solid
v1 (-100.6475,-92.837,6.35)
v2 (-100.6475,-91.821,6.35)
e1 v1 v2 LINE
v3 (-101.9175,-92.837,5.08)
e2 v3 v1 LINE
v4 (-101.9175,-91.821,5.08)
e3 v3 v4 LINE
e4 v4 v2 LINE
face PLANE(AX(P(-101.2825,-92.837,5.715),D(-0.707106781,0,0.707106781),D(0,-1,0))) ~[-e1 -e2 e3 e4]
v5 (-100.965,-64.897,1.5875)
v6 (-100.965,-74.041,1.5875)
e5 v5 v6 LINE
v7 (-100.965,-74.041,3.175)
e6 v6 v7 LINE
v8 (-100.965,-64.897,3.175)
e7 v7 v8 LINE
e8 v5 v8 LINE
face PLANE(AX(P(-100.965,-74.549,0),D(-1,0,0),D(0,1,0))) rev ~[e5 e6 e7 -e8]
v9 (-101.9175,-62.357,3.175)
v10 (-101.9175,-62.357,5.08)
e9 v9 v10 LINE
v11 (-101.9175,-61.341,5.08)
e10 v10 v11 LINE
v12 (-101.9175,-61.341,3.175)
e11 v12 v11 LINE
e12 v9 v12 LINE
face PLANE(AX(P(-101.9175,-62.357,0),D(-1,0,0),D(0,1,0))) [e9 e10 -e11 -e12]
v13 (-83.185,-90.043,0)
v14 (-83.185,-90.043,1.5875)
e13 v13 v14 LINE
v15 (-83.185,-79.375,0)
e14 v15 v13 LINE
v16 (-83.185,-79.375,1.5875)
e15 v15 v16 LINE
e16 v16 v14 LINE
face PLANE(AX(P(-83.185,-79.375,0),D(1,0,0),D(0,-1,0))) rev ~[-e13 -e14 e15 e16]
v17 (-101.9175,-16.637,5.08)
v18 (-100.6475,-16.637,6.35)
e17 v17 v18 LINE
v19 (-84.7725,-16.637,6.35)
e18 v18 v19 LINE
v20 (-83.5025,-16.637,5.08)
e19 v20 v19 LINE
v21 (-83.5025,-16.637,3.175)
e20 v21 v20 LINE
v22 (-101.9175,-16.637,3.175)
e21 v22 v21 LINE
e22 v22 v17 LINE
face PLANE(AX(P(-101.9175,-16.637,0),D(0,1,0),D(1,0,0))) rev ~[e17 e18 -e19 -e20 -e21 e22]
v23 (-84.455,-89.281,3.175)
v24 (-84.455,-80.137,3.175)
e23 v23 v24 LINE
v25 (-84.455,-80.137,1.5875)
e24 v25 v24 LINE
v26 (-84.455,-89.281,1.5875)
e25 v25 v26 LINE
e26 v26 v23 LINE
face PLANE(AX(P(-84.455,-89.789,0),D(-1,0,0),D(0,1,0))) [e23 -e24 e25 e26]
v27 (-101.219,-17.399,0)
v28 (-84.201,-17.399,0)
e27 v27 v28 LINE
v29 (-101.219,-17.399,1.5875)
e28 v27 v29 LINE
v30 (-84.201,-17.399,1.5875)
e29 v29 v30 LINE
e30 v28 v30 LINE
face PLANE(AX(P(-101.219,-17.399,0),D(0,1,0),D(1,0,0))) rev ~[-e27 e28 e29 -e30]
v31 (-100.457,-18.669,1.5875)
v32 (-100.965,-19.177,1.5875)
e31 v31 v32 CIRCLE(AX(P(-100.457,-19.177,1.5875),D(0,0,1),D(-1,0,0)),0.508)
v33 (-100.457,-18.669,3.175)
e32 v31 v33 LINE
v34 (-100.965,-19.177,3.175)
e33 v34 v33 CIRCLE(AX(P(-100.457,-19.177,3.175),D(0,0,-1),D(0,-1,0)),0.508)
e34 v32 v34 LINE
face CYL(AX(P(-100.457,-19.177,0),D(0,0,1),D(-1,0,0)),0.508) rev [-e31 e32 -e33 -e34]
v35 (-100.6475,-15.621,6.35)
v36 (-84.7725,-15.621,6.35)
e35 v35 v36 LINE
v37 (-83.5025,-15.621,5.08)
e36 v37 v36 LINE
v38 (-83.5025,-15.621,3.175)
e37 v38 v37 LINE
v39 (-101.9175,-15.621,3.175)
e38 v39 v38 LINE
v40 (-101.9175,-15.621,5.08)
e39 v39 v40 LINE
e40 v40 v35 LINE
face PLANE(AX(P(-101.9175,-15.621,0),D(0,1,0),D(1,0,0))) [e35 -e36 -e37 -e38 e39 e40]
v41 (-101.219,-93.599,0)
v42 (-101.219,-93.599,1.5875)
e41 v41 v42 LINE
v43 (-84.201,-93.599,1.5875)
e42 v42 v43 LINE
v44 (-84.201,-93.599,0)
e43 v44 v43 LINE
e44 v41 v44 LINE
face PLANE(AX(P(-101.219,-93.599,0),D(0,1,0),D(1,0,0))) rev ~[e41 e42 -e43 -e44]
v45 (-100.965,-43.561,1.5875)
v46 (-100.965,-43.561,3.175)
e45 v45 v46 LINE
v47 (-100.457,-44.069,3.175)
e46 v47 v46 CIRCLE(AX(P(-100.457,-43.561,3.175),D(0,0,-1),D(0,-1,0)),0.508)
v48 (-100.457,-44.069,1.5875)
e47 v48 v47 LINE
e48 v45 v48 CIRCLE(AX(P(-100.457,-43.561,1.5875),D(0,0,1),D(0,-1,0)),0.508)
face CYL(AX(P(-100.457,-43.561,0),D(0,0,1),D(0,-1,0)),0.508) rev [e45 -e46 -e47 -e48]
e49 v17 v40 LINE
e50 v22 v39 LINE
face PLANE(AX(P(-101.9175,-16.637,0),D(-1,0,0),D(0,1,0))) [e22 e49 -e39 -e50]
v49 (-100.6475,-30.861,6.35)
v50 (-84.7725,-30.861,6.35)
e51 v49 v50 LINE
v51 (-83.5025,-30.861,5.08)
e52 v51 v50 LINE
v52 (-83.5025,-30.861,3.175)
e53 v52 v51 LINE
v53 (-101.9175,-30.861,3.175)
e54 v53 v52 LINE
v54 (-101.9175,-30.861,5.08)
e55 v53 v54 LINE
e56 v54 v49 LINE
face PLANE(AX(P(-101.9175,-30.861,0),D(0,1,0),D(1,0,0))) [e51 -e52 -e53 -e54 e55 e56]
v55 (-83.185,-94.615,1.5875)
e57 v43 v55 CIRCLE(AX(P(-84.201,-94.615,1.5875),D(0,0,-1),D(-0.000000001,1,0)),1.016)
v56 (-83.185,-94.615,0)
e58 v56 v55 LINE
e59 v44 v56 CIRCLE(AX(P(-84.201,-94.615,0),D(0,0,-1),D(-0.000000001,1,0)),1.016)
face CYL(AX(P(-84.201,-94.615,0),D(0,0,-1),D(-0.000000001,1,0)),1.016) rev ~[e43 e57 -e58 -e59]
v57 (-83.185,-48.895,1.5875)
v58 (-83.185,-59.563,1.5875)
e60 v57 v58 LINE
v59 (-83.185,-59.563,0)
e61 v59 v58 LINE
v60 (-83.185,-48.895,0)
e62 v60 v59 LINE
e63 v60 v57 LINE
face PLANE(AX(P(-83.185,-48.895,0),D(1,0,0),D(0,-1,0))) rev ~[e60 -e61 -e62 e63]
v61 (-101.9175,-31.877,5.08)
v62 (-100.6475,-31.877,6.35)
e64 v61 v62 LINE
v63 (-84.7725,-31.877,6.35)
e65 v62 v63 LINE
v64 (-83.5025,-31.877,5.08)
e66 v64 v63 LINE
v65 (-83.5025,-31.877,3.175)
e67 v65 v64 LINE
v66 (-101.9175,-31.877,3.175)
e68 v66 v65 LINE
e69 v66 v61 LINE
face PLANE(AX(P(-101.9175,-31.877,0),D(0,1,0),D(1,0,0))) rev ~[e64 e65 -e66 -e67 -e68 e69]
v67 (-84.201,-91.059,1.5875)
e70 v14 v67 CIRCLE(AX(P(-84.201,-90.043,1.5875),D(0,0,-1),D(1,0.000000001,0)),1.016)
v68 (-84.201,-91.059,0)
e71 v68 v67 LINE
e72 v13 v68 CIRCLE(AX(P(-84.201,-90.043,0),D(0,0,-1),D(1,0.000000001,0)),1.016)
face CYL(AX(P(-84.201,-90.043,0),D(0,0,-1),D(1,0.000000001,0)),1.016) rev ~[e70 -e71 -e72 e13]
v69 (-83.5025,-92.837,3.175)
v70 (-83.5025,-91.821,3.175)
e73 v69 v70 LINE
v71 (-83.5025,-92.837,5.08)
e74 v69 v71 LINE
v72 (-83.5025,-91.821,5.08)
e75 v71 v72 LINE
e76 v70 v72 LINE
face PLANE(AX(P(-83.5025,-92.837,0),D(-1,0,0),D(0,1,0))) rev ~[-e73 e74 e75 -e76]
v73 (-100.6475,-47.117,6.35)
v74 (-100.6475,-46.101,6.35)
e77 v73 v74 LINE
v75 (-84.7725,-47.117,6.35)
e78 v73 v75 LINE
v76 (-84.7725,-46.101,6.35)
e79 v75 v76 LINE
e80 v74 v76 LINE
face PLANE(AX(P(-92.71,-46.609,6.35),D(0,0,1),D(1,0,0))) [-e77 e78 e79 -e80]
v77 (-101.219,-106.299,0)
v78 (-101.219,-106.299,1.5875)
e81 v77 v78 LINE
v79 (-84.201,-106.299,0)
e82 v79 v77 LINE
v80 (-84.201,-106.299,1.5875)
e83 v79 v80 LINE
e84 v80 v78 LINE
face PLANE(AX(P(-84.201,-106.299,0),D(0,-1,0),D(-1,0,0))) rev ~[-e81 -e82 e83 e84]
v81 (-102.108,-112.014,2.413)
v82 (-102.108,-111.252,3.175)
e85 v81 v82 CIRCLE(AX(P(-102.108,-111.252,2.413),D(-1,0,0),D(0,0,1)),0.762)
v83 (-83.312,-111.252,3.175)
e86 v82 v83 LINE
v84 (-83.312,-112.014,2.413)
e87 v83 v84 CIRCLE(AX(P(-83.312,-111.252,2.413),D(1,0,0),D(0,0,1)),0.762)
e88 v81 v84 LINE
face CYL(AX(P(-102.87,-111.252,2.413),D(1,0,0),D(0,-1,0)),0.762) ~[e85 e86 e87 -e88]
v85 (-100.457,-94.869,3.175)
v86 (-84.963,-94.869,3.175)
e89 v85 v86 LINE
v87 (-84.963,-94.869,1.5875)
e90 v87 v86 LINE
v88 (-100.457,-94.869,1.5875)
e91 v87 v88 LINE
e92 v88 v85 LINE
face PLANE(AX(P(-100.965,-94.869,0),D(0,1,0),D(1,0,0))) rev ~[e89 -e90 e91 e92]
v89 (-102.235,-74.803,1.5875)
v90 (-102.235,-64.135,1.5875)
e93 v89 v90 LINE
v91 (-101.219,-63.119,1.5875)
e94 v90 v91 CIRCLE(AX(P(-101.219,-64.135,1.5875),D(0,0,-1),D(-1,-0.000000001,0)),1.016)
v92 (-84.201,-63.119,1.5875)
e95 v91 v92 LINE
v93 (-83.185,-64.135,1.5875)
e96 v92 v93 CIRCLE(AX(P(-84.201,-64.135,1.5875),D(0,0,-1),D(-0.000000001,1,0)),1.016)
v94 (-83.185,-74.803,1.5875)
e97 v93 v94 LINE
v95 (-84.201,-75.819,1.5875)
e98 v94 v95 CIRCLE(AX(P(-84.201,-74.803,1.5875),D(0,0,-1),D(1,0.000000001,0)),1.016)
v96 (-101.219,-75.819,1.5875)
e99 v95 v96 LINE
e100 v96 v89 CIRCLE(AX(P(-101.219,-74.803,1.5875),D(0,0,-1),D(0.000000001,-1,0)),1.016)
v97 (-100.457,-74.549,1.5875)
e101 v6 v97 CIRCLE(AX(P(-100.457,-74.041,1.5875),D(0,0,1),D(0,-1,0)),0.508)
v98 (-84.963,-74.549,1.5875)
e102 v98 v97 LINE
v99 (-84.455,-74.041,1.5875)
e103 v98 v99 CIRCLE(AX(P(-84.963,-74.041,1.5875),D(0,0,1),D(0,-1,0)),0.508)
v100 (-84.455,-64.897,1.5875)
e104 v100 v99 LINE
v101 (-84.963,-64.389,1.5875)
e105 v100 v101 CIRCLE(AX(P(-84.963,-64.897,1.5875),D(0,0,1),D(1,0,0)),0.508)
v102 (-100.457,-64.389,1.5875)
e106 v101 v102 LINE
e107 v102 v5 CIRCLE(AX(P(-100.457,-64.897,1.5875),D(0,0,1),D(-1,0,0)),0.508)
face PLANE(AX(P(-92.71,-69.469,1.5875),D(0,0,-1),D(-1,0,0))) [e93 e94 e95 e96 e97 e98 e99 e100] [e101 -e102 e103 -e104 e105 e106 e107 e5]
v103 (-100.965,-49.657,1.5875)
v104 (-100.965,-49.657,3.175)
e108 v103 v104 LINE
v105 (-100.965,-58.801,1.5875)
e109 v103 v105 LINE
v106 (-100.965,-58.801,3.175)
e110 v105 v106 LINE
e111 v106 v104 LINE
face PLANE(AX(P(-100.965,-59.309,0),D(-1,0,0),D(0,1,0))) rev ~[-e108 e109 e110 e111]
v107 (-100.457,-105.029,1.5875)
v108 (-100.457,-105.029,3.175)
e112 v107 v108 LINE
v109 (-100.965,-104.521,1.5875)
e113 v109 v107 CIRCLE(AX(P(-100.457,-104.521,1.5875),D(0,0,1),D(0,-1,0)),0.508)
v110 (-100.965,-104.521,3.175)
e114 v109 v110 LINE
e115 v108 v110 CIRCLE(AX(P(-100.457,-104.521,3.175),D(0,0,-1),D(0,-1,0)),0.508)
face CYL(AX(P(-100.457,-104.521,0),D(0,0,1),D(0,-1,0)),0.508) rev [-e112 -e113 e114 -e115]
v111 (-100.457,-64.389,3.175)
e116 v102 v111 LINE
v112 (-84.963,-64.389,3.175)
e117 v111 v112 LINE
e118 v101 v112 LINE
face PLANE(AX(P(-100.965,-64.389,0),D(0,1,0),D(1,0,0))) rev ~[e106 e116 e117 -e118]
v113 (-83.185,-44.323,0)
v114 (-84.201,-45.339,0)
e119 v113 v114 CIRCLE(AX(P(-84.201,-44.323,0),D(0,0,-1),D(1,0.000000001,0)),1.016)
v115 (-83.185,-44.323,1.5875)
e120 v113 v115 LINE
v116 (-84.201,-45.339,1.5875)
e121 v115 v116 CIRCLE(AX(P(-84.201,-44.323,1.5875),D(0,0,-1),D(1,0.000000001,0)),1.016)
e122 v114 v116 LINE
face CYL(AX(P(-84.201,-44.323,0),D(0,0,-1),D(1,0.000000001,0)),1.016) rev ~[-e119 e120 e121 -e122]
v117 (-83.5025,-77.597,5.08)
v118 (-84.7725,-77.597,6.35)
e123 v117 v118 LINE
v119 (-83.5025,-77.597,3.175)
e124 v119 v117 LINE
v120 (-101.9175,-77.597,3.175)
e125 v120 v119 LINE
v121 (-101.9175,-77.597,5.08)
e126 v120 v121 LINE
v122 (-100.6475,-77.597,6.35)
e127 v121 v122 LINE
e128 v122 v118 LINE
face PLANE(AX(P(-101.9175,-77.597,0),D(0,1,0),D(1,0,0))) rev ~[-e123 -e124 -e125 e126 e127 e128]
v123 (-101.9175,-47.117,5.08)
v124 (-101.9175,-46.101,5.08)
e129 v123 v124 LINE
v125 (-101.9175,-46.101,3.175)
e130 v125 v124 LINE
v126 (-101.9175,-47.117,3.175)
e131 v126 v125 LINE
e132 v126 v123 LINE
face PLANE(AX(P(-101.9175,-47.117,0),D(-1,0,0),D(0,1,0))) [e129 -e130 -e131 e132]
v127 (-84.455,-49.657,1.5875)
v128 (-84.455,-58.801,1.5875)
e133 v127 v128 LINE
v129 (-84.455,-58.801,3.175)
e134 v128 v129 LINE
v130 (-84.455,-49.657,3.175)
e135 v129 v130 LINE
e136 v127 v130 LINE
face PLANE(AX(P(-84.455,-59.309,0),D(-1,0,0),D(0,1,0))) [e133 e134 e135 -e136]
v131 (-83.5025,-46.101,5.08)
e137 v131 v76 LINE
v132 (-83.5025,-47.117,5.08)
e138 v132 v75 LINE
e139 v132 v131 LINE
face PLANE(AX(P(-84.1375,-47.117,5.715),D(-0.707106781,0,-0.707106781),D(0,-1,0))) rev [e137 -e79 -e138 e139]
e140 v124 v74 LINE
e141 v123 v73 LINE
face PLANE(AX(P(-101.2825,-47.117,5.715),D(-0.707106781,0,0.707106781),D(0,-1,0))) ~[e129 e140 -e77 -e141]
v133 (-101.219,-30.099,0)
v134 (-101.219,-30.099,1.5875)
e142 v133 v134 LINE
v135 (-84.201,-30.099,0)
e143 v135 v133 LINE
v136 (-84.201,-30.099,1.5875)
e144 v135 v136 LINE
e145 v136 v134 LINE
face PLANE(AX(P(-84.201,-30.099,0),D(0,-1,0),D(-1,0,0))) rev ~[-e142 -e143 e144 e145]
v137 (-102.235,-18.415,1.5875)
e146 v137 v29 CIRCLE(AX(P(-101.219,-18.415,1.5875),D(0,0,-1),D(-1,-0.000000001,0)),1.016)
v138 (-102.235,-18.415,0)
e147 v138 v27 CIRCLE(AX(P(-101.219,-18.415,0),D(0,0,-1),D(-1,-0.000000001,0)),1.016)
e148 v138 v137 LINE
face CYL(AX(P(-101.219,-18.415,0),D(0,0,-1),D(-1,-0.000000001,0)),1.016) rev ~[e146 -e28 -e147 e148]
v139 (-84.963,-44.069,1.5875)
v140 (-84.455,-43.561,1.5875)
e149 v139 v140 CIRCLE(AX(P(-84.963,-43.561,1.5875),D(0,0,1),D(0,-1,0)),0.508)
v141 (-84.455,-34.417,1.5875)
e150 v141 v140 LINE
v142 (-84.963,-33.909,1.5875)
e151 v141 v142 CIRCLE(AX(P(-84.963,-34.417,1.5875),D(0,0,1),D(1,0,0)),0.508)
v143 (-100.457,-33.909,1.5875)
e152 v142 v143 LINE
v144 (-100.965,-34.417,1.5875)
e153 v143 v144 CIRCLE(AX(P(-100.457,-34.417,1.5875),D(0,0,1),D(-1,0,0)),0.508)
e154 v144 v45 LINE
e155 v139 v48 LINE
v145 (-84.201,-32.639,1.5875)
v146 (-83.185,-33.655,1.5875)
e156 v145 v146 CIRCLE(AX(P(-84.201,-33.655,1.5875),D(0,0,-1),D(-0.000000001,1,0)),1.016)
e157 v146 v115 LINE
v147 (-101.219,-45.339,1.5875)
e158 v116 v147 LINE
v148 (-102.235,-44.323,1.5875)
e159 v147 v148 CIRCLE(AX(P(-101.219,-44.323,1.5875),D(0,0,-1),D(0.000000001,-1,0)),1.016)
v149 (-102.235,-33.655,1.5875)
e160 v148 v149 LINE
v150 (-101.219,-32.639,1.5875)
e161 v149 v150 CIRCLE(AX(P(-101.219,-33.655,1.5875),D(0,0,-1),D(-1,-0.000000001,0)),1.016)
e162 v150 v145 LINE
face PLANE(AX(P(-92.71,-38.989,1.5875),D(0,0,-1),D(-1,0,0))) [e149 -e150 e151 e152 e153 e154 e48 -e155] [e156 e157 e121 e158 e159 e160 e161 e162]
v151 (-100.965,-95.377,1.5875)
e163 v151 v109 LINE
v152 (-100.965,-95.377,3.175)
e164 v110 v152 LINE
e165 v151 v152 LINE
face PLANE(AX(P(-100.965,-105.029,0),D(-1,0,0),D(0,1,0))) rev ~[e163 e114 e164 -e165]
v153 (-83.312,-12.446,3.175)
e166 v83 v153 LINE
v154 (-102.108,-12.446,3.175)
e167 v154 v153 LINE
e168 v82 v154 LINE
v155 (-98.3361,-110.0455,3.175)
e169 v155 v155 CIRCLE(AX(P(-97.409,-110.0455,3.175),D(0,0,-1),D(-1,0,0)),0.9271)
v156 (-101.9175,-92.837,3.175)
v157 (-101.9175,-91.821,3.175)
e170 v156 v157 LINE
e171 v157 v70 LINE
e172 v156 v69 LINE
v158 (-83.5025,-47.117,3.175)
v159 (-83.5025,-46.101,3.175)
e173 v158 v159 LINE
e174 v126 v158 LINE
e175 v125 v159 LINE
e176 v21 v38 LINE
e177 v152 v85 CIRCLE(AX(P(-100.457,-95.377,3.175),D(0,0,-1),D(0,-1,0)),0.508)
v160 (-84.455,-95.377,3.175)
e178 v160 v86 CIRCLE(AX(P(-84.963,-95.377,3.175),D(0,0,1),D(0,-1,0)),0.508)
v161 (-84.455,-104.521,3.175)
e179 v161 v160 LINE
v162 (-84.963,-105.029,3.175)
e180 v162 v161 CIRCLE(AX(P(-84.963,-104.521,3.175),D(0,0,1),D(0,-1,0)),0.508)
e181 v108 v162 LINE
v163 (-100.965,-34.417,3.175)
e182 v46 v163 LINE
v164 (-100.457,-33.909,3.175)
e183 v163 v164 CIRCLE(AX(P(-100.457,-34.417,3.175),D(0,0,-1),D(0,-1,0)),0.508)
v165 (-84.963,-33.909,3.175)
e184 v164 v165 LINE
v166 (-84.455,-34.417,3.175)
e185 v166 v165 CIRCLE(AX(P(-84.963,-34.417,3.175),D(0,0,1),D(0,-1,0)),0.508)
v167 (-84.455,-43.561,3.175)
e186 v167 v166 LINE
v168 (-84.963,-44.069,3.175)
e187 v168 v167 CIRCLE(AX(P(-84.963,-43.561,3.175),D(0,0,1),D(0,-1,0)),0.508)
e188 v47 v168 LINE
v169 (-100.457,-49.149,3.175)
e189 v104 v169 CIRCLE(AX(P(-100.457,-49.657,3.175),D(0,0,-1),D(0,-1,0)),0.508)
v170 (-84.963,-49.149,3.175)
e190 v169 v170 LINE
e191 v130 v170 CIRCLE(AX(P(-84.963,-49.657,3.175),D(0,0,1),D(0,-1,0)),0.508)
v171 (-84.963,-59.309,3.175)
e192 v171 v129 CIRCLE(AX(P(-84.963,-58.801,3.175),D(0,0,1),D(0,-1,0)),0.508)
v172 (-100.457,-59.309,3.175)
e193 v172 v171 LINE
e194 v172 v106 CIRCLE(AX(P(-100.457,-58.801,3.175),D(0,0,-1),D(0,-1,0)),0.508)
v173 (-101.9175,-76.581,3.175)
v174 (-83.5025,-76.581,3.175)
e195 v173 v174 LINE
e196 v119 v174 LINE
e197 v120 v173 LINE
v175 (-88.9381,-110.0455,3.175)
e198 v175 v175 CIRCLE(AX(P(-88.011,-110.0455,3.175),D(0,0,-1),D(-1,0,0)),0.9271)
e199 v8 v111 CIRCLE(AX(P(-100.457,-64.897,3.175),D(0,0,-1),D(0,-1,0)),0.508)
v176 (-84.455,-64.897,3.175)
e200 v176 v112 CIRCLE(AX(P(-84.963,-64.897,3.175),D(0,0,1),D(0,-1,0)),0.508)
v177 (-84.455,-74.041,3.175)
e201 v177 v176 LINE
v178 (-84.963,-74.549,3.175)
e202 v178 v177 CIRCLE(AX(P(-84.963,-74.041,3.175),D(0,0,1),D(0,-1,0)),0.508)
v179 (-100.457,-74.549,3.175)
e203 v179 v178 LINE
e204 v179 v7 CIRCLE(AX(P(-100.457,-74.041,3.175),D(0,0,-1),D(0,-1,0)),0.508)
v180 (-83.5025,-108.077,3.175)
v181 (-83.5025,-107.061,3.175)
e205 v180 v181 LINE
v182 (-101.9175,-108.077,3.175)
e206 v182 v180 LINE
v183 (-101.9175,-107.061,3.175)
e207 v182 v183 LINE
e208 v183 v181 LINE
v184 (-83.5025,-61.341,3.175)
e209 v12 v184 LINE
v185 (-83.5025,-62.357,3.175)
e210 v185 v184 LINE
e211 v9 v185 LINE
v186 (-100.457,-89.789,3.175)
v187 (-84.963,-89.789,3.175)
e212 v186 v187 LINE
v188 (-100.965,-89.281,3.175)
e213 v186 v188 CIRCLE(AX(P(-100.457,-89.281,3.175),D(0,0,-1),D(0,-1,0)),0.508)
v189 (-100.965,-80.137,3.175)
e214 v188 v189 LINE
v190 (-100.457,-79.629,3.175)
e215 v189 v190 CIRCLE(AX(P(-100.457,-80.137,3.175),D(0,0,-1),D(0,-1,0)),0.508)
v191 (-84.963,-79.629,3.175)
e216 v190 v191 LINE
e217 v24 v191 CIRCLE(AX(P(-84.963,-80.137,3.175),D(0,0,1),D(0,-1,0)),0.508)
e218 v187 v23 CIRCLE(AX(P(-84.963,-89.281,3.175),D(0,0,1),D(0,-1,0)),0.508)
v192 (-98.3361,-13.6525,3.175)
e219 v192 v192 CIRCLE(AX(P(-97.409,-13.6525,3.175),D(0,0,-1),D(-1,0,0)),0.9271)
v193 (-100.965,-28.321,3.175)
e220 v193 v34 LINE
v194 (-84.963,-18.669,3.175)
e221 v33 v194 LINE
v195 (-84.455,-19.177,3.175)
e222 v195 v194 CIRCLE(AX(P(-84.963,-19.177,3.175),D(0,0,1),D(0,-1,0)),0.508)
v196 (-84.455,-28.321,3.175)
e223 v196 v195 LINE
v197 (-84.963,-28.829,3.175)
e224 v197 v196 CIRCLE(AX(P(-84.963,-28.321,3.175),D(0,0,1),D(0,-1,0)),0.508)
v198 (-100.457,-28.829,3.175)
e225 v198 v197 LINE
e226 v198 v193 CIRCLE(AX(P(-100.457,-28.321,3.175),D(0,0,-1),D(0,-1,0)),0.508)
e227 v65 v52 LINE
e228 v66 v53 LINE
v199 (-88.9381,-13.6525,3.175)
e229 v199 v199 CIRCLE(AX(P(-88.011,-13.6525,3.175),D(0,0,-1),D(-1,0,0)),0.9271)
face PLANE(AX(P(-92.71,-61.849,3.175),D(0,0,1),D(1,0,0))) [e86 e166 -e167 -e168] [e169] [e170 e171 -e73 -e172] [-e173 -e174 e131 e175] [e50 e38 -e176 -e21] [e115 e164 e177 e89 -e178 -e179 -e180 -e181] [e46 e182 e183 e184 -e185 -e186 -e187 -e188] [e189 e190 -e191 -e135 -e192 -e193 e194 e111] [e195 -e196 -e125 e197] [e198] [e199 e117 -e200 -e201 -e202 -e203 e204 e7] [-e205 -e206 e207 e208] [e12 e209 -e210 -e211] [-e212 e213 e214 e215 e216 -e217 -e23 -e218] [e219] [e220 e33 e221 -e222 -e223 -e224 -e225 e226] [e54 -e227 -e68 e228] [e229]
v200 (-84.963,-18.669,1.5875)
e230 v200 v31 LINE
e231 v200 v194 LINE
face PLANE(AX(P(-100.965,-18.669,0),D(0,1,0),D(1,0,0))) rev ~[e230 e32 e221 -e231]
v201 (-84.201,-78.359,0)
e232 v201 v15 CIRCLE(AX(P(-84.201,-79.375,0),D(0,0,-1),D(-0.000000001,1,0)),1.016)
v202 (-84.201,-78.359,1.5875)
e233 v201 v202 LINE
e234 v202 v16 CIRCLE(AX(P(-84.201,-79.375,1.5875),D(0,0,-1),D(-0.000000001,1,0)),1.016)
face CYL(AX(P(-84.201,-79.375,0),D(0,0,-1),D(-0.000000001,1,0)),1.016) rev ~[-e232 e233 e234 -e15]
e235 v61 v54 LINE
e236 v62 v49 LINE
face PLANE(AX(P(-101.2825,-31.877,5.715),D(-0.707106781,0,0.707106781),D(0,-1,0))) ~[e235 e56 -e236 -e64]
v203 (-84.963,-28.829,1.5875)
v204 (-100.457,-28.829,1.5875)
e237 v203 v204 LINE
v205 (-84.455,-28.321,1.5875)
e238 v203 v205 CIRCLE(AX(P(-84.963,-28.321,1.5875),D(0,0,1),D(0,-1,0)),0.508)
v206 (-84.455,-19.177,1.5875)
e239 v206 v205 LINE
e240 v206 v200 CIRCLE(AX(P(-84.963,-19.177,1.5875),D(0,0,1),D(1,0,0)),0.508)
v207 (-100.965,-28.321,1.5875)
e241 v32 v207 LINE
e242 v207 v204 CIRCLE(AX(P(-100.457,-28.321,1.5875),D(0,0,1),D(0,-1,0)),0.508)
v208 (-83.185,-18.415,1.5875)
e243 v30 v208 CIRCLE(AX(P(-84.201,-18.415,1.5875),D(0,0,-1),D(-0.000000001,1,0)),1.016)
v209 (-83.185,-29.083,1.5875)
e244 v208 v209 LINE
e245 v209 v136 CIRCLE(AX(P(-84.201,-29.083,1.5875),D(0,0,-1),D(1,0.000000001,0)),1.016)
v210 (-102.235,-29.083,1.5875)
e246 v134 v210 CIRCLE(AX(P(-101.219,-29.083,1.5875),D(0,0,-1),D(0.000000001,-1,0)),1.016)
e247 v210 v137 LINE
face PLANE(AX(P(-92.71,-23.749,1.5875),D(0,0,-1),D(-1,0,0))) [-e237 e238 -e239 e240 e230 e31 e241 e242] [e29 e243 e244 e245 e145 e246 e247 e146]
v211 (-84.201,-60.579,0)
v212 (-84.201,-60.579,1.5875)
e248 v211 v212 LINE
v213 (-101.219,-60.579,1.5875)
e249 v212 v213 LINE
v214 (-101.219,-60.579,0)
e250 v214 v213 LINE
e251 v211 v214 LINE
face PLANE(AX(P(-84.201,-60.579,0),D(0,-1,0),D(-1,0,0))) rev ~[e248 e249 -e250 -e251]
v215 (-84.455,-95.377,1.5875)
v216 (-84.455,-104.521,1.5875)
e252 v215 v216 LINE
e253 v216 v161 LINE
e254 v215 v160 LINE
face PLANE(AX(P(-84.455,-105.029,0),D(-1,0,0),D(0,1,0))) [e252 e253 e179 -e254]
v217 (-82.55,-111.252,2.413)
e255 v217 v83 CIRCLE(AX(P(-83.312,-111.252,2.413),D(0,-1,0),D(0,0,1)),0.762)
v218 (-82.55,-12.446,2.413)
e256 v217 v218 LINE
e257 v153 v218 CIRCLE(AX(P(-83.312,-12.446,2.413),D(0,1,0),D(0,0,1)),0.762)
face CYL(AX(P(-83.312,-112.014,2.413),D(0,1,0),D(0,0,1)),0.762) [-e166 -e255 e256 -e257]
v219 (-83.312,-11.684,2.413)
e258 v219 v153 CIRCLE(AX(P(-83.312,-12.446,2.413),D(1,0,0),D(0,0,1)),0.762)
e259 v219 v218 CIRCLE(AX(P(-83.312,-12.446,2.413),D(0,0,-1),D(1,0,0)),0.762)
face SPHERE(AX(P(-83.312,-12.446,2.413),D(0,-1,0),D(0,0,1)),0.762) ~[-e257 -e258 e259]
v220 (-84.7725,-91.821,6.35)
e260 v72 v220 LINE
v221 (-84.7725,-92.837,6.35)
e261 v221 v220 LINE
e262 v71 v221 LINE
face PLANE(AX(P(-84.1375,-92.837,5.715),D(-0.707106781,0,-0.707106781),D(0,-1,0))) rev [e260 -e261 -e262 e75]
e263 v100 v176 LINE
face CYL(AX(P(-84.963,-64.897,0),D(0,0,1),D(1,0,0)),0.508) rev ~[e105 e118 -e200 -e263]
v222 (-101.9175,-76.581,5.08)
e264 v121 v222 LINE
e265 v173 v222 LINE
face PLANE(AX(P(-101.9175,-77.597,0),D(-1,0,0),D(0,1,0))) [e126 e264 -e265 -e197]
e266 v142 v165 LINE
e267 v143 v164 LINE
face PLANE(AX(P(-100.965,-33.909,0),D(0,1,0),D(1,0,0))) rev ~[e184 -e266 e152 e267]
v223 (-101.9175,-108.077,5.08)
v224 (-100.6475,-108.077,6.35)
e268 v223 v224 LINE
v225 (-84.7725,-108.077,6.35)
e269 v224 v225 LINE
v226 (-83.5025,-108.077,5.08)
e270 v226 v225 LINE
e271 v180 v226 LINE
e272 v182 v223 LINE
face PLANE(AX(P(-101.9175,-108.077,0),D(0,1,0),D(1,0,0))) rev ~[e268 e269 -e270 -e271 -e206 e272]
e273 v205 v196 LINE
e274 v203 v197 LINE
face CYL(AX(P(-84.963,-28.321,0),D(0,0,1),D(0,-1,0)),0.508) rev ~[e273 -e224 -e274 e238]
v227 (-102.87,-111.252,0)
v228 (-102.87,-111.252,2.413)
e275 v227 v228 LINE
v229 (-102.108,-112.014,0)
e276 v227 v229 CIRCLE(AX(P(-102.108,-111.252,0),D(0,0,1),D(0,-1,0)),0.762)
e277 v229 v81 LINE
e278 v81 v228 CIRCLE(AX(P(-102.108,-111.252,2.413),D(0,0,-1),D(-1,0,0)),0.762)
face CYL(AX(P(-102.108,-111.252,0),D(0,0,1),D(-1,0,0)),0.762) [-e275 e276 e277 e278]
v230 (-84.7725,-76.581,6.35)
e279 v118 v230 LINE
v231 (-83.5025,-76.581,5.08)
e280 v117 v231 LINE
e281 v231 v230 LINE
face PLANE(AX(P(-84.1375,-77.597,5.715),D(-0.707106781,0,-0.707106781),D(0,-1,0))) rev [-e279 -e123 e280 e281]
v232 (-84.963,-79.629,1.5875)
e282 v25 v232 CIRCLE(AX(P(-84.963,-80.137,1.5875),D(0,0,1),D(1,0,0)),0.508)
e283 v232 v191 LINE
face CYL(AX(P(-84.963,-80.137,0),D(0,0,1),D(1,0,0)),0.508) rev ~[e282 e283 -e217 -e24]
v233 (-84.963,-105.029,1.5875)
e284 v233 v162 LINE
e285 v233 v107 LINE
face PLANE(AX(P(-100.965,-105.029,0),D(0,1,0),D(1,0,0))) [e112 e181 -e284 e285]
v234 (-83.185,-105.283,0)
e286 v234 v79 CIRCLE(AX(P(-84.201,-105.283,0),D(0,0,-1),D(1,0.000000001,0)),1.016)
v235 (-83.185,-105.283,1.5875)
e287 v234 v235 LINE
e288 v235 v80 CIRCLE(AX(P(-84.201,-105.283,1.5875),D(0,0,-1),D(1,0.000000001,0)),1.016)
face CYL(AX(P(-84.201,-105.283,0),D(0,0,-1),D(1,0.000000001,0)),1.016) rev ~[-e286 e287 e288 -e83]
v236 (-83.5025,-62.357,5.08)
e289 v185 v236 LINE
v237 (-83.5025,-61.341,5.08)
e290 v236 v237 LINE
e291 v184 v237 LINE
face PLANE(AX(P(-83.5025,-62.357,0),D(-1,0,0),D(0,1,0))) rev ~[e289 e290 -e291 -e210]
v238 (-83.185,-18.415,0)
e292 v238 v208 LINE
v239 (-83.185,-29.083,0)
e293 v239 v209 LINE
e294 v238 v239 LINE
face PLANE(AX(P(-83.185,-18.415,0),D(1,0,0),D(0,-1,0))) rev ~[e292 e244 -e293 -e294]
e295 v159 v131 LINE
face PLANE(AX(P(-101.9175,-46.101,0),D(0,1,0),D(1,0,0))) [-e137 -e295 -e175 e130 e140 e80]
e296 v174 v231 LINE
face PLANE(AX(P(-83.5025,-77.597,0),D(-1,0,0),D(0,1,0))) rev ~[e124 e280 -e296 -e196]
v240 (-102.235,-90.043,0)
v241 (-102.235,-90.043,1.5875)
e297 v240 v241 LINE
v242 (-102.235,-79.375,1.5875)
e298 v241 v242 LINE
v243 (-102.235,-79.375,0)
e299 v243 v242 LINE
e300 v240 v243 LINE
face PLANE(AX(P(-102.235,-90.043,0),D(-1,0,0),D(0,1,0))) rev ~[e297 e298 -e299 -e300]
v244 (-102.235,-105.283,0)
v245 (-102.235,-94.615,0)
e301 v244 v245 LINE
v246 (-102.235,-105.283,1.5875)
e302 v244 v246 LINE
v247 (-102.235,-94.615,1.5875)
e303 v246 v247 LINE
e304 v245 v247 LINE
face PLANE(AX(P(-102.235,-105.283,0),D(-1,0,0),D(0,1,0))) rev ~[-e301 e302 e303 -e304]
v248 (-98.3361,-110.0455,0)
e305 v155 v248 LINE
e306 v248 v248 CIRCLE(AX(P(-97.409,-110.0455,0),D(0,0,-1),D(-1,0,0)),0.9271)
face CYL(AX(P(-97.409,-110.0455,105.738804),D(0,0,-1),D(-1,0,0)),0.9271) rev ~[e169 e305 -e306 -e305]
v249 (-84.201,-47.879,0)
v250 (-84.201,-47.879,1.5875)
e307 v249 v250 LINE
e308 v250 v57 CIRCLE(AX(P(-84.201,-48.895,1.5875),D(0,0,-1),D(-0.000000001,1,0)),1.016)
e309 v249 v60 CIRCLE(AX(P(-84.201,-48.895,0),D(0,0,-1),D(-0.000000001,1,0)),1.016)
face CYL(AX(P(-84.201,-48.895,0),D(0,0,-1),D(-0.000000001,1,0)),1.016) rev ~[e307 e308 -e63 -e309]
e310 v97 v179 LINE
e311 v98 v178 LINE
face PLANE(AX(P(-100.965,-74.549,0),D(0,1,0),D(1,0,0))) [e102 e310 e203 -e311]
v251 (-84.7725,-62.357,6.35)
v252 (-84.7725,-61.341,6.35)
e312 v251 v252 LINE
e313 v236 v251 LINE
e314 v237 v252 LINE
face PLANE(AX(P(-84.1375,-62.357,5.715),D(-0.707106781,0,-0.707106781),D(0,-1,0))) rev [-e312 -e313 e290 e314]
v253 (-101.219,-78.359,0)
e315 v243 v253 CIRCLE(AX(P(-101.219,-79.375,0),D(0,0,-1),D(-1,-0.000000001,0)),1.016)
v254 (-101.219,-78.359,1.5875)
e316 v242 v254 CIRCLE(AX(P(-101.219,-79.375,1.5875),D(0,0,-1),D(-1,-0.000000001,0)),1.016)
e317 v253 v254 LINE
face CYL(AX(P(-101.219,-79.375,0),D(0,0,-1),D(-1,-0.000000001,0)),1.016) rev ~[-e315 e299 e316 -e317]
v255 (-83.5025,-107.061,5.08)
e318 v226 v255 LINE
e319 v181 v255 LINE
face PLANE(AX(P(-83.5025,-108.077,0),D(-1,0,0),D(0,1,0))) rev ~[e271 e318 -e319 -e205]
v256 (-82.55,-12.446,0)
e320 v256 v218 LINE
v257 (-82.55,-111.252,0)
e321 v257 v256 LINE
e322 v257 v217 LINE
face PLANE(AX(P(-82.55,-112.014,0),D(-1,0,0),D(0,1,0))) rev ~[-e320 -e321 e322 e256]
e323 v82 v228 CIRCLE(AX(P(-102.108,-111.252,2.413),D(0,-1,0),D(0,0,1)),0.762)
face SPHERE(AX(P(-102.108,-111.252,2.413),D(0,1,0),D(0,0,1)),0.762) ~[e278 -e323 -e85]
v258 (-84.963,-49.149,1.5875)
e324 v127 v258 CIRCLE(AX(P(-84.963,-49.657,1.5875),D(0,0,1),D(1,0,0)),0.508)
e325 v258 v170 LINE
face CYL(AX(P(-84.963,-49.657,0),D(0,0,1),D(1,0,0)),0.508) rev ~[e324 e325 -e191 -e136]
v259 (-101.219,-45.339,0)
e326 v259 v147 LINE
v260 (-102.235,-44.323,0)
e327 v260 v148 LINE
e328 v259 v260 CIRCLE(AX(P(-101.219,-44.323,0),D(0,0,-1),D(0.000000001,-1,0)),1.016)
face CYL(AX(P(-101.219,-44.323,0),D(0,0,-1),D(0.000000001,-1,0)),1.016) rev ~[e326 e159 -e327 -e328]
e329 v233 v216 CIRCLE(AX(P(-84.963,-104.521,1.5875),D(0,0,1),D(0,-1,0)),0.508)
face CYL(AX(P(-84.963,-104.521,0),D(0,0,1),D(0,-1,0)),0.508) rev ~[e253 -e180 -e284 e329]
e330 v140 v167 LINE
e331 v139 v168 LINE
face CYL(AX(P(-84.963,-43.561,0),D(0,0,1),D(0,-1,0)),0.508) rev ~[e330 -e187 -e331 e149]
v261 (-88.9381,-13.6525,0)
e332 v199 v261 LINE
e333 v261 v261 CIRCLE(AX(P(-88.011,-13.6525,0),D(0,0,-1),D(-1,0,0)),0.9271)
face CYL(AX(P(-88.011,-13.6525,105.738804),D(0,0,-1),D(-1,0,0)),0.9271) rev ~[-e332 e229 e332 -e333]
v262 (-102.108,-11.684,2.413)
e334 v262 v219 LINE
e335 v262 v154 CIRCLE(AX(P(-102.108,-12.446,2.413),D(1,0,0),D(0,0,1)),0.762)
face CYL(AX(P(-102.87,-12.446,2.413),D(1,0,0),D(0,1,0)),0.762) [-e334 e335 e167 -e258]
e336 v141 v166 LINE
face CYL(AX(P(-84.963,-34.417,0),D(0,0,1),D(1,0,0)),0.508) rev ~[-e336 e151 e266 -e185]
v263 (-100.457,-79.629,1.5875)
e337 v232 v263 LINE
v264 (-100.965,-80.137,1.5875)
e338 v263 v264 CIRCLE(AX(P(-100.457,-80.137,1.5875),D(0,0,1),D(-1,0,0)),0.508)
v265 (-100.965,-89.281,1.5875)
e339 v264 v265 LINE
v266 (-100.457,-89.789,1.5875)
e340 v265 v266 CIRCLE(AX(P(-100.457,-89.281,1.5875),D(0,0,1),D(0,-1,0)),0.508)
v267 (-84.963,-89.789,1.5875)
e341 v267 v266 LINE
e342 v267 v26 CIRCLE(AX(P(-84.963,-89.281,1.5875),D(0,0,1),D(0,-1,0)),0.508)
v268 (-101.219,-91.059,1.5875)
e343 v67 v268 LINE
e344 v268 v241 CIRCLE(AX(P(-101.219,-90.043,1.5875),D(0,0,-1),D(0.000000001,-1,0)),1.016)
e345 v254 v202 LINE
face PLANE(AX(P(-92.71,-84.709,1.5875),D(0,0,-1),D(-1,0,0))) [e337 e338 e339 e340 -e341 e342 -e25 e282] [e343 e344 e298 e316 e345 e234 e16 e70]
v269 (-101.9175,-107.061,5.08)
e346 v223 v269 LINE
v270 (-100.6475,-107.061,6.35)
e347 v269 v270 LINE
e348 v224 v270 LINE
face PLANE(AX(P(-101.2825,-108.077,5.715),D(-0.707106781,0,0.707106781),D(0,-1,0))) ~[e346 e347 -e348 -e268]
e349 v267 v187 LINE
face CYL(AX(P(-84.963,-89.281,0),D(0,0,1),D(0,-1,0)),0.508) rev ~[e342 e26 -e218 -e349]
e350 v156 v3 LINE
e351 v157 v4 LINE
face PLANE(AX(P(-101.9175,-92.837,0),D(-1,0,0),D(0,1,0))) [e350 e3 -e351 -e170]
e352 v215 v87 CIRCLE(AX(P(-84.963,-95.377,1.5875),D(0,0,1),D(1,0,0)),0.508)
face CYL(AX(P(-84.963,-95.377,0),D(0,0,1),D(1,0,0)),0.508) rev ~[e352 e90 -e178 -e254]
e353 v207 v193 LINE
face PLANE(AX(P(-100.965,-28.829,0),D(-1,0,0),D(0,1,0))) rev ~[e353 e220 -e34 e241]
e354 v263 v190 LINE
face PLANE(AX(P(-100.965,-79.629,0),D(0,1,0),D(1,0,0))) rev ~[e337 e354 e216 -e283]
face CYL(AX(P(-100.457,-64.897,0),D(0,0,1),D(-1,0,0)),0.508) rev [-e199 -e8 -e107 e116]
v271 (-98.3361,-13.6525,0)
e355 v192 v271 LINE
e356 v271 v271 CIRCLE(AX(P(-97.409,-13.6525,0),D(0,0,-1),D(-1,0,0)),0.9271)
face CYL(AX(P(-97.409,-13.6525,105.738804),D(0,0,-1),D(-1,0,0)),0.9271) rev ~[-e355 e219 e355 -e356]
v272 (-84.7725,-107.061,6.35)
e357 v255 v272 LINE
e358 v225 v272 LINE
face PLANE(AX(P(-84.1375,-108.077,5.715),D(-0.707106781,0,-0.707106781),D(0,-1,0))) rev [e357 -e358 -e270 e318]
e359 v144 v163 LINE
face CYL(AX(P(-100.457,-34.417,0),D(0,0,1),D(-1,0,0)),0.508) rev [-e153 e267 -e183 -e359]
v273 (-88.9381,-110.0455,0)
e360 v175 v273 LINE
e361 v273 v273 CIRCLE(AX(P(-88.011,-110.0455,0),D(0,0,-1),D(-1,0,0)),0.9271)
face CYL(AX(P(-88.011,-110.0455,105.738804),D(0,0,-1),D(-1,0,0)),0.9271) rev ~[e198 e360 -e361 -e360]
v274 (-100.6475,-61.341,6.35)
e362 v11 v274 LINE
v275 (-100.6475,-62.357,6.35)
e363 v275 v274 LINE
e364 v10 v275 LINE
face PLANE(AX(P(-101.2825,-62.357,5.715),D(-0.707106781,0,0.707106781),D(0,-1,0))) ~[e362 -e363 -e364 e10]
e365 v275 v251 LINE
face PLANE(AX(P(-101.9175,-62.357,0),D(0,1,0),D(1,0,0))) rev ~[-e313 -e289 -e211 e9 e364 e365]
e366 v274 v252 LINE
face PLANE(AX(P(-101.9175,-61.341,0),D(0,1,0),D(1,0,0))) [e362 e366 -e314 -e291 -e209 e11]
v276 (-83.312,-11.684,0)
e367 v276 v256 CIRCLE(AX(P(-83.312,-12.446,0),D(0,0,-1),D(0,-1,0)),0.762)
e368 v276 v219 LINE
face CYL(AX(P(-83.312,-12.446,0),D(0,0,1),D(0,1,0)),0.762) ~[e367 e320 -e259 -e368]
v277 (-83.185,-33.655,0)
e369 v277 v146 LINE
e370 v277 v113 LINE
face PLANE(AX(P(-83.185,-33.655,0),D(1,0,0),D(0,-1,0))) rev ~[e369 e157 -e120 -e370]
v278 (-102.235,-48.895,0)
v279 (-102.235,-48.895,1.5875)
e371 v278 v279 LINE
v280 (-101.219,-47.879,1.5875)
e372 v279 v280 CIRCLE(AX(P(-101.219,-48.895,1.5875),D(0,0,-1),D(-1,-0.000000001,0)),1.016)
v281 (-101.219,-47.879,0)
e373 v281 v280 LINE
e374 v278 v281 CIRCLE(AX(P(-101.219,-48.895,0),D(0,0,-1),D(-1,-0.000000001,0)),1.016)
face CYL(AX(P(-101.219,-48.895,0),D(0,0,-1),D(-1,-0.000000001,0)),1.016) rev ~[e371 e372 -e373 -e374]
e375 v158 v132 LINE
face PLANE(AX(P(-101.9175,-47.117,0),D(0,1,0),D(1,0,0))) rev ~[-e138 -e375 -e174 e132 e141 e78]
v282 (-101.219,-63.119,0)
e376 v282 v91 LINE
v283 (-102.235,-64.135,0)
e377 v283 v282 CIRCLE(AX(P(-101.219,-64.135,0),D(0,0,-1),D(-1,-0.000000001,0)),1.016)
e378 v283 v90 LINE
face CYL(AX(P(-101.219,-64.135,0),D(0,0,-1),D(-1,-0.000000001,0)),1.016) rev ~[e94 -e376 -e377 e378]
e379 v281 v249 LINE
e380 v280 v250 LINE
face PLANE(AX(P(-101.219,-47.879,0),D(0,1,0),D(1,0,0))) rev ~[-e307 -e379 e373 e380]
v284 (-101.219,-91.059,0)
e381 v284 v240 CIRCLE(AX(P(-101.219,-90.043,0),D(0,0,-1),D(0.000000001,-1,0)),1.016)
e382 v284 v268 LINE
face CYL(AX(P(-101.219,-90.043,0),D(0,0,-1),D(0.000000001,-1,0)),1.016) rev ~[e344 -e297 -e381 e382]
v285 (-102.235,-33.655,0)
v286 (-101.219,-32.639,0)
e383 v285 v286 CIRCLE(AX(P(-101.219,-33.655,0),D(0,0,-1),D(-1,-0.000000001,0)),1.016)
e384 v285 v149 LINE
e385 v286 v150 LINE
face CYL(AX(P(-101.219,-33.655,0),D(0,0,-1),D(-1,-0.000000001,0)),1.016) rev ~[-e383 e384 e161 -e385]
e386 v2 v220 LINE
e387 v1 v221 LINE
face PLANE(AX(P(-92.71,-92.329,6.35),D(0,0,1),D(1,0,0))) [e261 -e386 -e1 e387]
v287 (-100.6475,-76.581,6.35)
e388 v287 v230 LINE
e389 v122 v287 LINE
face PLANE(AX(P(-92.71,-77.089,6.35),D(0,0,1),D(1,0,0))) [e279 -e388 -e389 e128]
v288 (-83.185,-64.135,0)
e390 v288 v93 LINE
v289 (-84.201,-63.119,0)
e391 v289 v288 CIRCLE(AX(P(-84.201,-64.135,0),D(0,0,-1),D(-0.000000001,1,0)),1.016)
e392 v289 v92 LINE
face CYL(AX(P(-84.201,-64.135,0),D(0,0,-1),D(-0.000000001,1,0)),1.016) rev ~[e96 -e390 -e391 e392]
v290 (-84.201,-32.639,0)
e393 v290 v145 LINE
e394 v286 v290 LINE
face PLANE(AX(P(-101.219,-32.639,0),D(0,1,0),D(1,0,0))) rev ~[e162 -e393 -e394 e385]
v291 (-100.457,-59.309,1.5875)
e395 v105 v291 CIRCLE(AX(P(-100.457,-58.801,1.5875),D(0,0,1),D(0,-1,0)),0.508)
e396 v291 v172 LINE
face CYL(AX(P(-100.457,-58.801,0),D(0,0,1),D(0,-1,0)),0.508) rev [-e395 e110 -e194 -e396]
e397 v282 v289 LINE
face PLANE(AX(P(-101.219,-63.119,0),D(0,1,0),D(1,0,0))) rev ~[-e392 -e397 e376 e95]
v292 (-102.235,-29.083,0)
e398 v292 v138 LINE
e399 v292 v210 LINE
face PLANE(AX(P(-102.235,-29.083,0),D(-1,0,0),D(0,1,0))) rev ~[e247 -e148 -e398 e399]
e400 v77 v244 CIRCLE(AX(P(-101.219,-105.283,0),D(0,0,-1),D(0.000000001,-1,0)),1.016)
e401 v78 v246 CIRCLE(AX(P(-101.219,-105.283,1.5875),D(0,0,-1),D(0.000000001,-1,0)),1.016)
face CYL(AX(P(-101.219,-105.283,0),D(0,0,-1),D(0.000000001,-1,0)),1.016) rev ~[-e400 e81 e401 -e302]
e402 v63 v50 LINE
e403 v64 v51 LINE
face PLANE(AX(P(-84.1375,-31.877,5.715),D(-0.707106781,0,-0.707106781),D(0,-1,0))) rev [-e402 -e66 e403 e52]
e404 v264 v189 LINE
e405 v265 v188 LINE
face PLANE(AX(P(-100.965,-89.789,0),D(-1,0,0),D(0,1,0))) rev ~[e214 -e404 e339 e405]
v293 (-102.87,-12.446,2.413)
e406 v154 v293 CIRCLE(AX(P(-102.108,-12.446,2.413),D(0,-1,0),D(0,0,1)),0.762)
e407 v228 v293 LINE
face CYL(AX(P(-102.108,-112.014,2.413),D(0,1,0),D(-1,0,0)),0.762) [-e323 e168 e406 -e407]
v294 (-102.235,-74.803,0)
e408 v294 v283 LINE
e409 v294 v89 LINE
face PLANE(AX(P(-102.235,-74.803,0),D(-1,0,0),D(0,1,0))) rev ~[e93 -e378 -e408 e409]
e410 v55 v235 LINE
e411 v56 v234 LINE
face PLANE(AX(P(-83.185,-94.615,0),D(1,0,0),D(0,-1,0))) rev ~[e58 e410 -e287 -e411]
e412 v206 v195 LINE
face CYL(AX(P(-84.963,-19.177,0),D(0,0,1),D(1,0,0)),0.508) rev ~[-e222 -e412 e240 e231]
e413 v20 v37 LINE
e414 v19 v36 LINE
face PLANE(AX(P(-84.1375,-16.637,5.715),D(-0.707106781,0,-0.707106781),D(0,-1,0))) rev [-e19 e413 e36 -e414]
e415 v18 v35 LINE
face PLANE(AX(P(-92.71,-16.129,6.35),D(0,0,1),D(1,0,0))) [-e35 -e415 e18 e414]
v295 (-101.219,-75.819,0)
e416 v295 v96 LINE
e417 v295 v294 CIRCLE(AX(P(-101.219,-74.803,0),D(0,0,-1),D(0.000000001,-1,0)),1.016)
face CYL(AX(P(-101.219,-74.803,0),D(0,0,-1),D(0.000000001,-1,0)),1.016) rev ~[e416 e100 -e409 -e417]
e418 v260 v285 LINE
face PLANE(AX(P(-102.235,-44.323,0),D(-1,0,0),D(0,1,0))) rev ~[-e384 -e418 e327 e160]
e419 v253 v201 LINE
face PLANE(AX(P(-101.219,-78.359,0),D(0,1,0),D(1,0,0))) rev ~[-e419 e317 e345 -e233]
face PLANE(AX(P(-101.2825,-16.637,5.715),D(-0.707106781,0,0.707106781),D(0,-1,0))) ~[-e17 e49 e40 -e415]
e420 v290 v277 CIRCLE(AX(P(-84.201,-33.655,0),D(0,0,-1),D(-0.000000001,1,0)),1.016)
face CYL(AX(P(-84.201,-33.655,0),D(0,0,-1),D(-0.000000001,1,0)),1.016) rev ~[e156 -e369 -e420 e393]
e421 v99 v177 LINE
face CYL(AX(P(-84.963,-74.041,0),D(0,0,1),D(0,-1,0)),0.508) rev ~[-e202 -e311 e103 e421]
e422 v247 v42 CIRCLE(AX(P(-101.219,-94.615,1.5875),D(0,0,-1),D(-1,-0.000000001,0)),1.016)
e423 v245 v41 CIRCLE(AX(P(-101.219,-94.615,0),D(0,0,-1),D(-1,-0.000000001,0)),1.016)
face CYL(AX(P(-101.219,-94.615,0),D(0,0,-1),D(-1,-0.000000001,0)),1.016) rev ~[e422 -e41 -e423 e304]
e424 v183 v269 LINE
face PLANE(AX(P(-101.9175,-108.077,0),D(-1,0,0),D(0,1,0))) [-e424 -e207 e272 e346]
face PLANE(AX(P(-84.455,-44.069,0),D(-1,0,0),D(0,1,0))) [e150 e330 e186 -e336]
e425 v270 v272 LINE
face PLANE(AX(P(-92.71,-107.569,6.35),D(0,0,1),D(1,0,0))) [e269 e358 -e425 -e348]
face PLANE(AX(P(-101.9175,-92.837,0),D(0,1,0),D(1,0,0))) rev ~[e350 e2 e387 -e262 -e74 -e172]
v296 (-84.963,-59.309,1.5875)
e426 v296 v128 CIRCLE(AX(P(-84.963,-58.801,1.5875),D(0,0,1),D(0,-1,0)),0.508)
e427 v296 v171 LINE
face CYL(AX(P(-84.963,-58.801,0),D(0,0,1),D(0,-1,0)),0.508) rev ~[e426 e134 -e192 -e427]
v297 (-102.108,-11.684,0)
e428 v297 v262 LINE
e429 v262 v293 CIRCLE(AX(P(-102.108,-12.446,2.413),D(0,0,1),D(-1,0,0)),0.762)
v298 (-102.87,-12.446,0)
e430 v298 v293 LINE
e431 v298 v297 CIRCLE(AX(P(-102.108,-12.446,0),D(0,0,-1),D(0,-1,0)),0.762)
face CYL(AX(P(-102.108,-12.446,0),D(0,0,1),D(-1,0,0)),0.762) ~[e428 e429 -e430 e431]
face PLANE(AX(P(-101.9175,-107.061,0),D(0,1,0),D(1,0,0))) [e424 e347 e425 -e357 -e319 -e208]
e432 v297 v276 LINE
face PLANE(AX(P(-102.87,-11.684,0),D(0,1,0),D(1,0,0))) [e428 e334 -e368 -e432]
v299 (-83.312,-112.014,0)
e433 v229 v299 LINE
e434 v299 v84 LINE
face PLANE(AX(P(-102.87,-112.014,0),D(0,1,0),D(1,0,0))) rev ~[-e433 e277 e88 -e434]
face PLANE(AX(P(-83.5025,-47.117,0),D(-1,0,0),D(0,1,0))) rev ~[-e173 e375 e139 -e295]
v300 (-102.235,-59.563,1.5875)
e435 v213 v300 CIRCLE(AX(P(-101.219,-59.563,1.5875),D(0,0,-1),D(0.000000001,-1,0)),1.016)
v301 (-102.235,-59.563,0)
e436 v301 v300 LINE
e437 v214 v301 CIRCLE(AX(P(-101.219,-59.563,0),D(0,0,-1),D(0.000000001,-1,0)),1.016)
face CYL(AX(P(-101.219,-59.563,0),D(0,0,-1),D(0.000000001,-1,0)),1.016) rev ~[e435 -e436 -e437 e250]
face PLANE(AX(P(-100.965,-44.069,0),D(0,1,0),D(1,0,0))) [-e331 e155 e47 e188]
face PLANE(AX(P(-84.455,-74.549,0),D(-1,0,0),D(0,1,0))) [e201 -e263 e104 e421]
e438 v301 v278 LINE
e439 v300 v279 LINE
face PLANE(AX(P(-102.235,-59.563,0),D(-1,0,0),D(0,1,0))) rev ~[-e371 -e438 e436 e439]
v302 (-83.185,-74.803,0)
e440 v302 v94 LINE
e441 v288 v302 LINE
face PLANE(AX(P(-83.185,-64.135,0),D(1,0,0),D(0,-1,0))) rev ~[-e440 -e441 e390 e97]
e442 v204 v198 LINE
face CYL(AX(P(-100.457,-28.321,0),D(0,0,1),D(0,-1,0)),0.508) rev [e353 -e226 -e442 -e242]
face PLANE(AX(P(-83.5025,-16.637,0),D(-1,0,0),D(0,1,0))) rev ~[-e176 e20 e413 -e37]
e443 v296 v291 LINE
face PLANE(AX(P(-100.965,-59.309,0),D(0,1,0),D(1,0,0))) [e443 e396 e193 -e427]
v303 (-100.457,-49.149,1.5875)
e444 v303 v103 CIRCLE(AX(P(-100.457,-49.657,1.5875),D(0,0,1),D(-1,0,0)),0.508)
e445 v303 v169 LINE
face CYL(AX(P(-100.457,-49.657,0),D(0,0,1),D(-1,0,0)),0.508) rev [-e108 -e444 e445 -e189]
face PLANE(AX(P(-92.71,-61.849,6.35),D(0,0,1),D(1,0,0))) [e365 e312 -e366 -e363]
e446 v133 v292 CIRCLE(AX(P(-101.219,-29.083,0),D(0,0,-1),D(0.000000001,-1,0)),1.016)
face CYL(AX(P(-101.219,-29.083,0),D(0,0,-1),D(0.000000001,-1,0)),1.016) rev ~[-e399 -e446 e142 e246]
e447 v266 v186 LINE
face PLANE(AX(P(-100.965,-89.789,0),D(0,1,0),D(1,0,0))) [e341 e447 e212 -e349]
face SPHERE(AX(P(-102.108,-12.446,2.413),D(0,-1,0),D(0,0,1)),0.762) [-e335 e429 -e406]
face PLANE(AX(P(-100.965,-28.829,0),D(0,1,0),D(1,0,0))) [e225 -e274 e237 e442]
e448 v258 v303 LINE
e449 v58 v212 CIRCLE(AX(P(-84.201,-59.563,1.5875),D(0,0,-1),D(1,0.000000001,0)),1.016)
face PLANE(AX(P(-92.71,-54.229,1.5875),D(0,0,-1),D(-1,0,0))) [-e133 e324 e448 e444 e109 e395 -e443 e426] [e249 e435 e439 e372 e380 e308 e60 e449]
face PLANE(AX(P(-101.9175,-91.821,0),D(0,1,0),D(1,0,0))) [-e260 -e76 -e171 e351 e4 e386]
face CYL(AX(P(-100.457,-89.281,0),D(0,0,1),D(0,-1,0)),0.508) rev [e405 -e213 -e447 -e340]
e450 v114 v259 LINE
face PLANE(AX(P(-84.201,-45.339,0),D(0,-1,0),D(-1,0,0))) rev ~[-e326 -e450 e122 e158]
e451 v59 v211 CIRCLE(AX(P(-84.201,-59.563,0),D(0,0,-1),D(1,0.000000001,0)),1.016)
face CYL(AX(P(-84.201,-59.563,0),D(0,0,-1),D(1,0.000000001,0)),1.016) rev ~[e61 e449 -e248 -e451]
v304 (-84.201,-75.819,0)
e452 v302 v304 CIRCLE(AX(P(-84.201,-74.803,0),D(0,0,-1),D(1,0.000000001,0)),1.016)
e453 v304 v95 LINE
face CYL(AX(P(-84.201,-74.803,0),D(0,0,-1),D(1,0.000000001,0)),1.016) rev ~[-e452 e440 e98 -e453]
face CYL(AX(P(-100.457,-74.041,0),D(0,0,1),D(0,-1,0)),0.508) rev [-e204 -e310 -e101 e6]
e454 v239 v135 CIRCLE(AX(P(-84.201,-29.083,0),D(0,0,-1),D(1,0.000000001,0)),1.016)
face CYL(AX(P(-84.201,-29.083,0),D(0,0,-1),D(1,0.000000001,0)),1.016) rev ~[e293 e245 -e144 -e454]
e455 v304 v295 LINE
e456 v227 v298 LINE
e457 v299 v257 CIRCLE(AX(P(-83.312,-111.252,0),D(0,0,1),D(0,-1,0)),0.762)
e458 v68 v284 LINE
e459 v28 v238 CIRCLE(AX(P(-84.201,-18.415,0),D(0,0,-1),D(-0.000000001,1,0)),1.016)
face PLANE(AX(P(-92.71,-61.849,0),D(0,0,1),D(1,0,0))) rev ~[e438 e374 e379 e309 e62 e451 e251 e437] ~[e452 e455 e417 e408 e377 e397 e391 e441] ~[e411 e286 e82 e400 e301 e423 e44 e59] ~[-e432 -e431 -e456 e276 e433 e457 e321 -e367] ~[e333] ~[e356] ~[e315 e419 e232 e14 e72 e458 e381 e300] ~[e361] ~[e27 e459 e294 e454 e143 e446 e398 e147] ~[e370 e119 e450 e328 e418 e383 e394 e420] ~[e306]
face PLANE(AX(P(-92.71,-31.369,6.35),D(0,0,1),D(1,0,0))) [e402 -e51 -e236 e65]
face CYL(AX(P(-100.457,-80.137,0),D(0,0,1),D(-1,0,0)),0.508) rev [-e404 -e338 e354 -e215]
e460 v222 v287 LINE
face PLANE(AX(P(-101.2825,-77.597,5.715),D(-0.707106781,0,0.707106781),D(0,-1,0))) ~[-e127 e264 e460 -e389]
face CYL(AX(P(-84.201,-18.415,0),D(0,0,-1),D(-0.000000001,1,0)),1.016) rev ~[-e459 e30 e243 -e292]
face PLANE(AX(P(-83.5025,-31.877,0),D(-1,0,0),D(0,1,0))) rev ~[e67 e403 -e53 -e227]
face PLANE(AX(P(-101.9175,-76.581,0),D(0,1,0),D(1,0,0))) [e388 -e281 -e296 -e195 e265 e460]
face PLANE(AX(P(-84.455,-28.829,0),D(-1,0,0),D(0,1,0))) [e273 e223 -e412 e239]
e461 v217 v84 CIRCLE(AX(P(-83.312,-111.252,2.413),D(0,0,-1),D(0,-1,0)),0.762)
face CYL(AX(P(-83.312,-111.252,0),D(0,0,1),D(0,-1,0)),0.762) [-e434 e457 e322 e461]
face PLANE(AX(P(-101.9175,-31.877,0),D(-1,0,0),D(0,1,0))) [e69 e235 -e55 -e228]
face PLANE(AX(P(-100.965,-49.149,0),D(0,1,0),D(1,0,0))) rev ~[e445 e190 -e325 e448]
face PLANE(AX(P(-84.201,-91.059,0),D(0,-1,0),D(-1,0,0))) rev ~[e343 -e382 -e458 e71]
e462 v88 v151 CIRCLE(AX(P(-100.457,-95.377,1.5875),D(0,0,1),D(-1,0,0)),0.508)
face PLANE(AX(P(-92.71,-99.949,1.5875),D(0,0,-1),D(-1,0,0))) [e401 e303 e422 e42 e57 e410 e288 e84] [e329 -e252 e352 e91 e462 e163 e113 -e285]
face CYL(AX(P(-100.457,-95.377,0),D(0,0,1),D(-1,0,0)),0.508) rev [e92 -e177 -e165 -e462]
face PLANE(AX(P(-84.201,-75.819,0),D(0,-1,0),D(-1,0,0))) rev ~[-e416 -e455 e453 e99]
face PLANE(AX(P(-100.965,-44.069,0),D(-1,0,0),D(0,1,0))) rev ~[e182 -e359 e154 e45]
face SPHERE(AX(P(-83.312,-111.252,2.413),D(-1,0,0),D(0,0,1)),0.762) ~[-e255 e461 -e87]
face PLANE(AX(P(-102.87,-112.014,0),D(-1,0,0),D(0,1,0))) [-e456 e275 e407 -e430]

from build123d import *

# Parameters (mm, degrees)
SKETCH2_W             = 18.415
SKETCH2_H             = 1.016
BOSS_EXTRUDE1_DEPTH   = 6.35
CHAMFER1_SIZE         = 1.27
LPATTERN2_COUNT       = 7
LPATTERN2_PITCH       = 15.24
SKETCH3_W             = 20.32
SKETCH3_H             = 100.33
SKETCH3_W_2           = 16.51
SKETCH3_H_2           = 10.16
BOSS_EXTRUDE2_DEPTH   = 3.175
FILLET1_R             = 0.762
F_0_CLEARANCE_HOLE1_D = 1.8542
FILLET2_R             = 0.508
CUT_EXTRUDE1_DEPTH    = 1.5875
LPATTERN3_COUNT       = 6
LPATTERN3_PITCH       = 15.24


with BuildPart() as part:
    # Sketch2 → Boss-Extrude1 (new body)
    with BuildSketch(Plane.XY):
        with Locations((-92.71, -107.569)):
            Rectangle(SKETCH2_W, SKETCH2_H)
    extrude(amount=BOSS_EXTRUDE1_DEPTH)

    # Chamfer1
    chamfer1_edges = [part.edges().sort_by_distance(p)[0] for p in [
        (-83.5025, -107.569, 6.35),
        (-101.9175, -107.569, 6.35),
    ]]
    chamfer(chamfer1_edges, length=CHAMFER1_SIZE)


with BuildPart() as lpattern2_1:
    # LPattern2: pattern copy
    add(part.part.moved(Location(Vector(0, 1, 0) * (1 * LPATTERN2_PITCH))))


with BuildPart() as lpattern2_2:
    # LPattern2: pattern copy
    add(part.part.moved(Location(Vector(0, 1, 0) * (2 * LPATTERN2_PITCH))))


with BuildPart() as lpattern2_3:
    # LPattern2: pattern copy
    add(part.part.moved(Location(Vector(0, 1, 0) * (3 * LPATTERN2_PITCH))))


with BuildPart() as lpattern2_4:
    # LPattern2: pattern copy
    add(part.part.moved(Location(Vector(0, 1, 0) * (4 * LPATTERN2_PITCH))))


with BuildPart() as lpattern2_5:
    # LPattern2: pattern copy
    add(part.part.moved(Location(Vector(0, 1, 0) * (5 * LPATTERN2_PITCH))))


with BuildPart() as lpattern2_6:
    # LPattern2: pattern copy
    add(part.part.moved(Location(Vector(0, 1, 0) * (6 * LPATTERN2_PITCH))))


with BuildPart() as part_1:
    add(part.part)

    add(lpattern2_1.part)  # Boss-Extrude2 merges LPattern2_1

    add(lpattern2_2.part)  # Boss-Extrude2 merges LPattern2_2

    add(lpattern2_3.part)  # Boss-Extrude2 merges LPattern2_3

    add(lpattern2_4.part)  # Boss-Extrude2 merges LPattern2_4

    add(lpattern2_5.part)  # Boss-Extrude2 merges LPattern2_5

    add(lpattern2_6.part)  # Boss-Extrude2 merges LPattern2_6
    # Sketch3 → Boss-Extrude2 (add)
    with BuildSketch(Plane.XY):
        with Locations((-92.71, -61.849)):
            Rectangle(SKETCH3_W, SKETCH3_H)
        with Locations((-92.71, -99.949)):
            Rectangle(SKETCH3_W_2, SKETCH3_H_2, mode=Mode.SUBTRACT)
        with Locations((-92.71, -84.709)):
            Rectangle(SKETCH3_W_2, SKETCH3_H_2, mode=Mode.SUBTRACT)
        with Locations((-92.71, -69.469)):
            Rectangle(SKETCH3_W_2, SKETCH3_H_2, mode=Mode.SUBTRACT)
        with Locations((-92.71, -54.229)):
            Rectangle(SKETCH3_W_2, SKETCH3_H_2, mode=Mode.SUBTRACT)
        with Locations((-92.71, -38.989)):
            Rectangle(SKETCH3_W_2, SKETCH3_H_2, mode=Mode.SUBTRACT)
        with Locations((-92.71, -23.749)):
            Rectangle(SKETCH3_W_2, SKETCH3_H_2, mode=Mode.SUBTRACT)
    extrude(amount=BOSS_EXTRUDE2_DEPTH)

    # Fillet1
    fillet1_edges = [part_1.edges().sort_by_distance(p)[0] for p in [
        (-102.87, -61.849, 3.175),
        (-92.71, -112.014, 3.175),
        (-82.55, -61.849, 3.175),
        (-92.71, -11.684, 3.175),
        (-102.87, -11.684, 1.5875),
        (-102.87, -112.014, 1.5875),
        (-82.55, -112.014, 1.5875),
        (-82.55, -11.684, 1.5875),
    ]]
    fillet(fillet1_edges, radius=FILLET1_R)

    # #0 Clearance Hole1 (through all)
    with Locations(Plane.XY.offset(3.175)):
        with Locations((-97.409, -13.6525), (-88.011, -13.6525), (-97.409, -110.0455), (-88.011, -110.0455)):
            Hole(F_0_CLEARANCE_HOLE1_D / 2)

    # Fillet2
    fillet2_edges = [part_1.edges().sort_by_distance(p)[0] for p in [
        (-84.455, -94.869, 1.5875),
        (-100.965, -94.869, 1.5875),
        (-100.965, -105.029, 1.5875),
        (-84.455, -105.029, 1.5875),
        (-84.455, -89.789, 1.5875),
        (-84.455, -79.629, 1.5875),
        (-100.965, -79.629, 1.5875),
        (-100.965, -89.789, 1.5875),
        (-84.455, -74.549, 1.5875),
        (-84.455, -64.389, 1.5875),
        (-100.965, -64.389, 1.5875),
        (-100.965, -74.549, 1.5875),
        (-84.455, -59.309, 1.5875),
        (-84.455, -49.149, 1.5875),
        (-100.965, -49.149, 1.5875),
        (-100.965, -59.309, 1.5875),
        (-84.455, -44.069, 1.5875),
        (-84.455, -33.909, 1.5875),
        (-100.965, -33.909, 1.5875),
        (-100.965, -44.069, 1.5875),
        (-84.455, -28.829, 1.5875),
        (-84.455, -18.669, 1.5875),
        (-100.965, -18.669, 1.5875),
        (-100.965, -28.829, 1.5875),
    ]]
    fillet(fillet2_edges, radius=FILLET2_R)

    # Sketch9 → Cut-Extrude1 (cut)
    with BuildSketch(Plane(origin=(0, 0, 0), x_dir=(-1, 0, 0), z_dir=(0, 0, -1))):
        with BuildLine():
            Line((102.235, -105.283), (102.235, -94.615))
            ThreePointArc((102.235, -94.615), (101.93742049, -93.89657951), (101.219, -93.599))
            Line((101.219, -93.599), (84.201, -93.599))
            ThreePointArc((84.201, -93.599), (83.48257951, -93.89657951), (83.185, -94.615))
            Line((83.185, -94.615), (83.185, -105.283))
            ThreePointArc((83.185, -105.283), (83.48257951, -106.00142049), (84.201, -106.299))
            Line((84.201, -106.299), (101.219, -106.299))
            ThreePointArc((101.219, -106.299), (101.93742049, -106.00142049), (102.235, -105.283))
        make_face()
    cut_extrude1 = extrude(amount=-CUT_EXTRUDE1_DEPTH, mode=Mode.SUBTRACT)

    # LPattern3: Cut-Extrude1 ×6
    with Locations(*[(0, i * LPATTERN3_PITCH, 0) for i in range(1, LPATTERN3_COUNT)]):
        add(cut_extrude1, mode=Mode.SUBTRACT)


solid = part_1.part
